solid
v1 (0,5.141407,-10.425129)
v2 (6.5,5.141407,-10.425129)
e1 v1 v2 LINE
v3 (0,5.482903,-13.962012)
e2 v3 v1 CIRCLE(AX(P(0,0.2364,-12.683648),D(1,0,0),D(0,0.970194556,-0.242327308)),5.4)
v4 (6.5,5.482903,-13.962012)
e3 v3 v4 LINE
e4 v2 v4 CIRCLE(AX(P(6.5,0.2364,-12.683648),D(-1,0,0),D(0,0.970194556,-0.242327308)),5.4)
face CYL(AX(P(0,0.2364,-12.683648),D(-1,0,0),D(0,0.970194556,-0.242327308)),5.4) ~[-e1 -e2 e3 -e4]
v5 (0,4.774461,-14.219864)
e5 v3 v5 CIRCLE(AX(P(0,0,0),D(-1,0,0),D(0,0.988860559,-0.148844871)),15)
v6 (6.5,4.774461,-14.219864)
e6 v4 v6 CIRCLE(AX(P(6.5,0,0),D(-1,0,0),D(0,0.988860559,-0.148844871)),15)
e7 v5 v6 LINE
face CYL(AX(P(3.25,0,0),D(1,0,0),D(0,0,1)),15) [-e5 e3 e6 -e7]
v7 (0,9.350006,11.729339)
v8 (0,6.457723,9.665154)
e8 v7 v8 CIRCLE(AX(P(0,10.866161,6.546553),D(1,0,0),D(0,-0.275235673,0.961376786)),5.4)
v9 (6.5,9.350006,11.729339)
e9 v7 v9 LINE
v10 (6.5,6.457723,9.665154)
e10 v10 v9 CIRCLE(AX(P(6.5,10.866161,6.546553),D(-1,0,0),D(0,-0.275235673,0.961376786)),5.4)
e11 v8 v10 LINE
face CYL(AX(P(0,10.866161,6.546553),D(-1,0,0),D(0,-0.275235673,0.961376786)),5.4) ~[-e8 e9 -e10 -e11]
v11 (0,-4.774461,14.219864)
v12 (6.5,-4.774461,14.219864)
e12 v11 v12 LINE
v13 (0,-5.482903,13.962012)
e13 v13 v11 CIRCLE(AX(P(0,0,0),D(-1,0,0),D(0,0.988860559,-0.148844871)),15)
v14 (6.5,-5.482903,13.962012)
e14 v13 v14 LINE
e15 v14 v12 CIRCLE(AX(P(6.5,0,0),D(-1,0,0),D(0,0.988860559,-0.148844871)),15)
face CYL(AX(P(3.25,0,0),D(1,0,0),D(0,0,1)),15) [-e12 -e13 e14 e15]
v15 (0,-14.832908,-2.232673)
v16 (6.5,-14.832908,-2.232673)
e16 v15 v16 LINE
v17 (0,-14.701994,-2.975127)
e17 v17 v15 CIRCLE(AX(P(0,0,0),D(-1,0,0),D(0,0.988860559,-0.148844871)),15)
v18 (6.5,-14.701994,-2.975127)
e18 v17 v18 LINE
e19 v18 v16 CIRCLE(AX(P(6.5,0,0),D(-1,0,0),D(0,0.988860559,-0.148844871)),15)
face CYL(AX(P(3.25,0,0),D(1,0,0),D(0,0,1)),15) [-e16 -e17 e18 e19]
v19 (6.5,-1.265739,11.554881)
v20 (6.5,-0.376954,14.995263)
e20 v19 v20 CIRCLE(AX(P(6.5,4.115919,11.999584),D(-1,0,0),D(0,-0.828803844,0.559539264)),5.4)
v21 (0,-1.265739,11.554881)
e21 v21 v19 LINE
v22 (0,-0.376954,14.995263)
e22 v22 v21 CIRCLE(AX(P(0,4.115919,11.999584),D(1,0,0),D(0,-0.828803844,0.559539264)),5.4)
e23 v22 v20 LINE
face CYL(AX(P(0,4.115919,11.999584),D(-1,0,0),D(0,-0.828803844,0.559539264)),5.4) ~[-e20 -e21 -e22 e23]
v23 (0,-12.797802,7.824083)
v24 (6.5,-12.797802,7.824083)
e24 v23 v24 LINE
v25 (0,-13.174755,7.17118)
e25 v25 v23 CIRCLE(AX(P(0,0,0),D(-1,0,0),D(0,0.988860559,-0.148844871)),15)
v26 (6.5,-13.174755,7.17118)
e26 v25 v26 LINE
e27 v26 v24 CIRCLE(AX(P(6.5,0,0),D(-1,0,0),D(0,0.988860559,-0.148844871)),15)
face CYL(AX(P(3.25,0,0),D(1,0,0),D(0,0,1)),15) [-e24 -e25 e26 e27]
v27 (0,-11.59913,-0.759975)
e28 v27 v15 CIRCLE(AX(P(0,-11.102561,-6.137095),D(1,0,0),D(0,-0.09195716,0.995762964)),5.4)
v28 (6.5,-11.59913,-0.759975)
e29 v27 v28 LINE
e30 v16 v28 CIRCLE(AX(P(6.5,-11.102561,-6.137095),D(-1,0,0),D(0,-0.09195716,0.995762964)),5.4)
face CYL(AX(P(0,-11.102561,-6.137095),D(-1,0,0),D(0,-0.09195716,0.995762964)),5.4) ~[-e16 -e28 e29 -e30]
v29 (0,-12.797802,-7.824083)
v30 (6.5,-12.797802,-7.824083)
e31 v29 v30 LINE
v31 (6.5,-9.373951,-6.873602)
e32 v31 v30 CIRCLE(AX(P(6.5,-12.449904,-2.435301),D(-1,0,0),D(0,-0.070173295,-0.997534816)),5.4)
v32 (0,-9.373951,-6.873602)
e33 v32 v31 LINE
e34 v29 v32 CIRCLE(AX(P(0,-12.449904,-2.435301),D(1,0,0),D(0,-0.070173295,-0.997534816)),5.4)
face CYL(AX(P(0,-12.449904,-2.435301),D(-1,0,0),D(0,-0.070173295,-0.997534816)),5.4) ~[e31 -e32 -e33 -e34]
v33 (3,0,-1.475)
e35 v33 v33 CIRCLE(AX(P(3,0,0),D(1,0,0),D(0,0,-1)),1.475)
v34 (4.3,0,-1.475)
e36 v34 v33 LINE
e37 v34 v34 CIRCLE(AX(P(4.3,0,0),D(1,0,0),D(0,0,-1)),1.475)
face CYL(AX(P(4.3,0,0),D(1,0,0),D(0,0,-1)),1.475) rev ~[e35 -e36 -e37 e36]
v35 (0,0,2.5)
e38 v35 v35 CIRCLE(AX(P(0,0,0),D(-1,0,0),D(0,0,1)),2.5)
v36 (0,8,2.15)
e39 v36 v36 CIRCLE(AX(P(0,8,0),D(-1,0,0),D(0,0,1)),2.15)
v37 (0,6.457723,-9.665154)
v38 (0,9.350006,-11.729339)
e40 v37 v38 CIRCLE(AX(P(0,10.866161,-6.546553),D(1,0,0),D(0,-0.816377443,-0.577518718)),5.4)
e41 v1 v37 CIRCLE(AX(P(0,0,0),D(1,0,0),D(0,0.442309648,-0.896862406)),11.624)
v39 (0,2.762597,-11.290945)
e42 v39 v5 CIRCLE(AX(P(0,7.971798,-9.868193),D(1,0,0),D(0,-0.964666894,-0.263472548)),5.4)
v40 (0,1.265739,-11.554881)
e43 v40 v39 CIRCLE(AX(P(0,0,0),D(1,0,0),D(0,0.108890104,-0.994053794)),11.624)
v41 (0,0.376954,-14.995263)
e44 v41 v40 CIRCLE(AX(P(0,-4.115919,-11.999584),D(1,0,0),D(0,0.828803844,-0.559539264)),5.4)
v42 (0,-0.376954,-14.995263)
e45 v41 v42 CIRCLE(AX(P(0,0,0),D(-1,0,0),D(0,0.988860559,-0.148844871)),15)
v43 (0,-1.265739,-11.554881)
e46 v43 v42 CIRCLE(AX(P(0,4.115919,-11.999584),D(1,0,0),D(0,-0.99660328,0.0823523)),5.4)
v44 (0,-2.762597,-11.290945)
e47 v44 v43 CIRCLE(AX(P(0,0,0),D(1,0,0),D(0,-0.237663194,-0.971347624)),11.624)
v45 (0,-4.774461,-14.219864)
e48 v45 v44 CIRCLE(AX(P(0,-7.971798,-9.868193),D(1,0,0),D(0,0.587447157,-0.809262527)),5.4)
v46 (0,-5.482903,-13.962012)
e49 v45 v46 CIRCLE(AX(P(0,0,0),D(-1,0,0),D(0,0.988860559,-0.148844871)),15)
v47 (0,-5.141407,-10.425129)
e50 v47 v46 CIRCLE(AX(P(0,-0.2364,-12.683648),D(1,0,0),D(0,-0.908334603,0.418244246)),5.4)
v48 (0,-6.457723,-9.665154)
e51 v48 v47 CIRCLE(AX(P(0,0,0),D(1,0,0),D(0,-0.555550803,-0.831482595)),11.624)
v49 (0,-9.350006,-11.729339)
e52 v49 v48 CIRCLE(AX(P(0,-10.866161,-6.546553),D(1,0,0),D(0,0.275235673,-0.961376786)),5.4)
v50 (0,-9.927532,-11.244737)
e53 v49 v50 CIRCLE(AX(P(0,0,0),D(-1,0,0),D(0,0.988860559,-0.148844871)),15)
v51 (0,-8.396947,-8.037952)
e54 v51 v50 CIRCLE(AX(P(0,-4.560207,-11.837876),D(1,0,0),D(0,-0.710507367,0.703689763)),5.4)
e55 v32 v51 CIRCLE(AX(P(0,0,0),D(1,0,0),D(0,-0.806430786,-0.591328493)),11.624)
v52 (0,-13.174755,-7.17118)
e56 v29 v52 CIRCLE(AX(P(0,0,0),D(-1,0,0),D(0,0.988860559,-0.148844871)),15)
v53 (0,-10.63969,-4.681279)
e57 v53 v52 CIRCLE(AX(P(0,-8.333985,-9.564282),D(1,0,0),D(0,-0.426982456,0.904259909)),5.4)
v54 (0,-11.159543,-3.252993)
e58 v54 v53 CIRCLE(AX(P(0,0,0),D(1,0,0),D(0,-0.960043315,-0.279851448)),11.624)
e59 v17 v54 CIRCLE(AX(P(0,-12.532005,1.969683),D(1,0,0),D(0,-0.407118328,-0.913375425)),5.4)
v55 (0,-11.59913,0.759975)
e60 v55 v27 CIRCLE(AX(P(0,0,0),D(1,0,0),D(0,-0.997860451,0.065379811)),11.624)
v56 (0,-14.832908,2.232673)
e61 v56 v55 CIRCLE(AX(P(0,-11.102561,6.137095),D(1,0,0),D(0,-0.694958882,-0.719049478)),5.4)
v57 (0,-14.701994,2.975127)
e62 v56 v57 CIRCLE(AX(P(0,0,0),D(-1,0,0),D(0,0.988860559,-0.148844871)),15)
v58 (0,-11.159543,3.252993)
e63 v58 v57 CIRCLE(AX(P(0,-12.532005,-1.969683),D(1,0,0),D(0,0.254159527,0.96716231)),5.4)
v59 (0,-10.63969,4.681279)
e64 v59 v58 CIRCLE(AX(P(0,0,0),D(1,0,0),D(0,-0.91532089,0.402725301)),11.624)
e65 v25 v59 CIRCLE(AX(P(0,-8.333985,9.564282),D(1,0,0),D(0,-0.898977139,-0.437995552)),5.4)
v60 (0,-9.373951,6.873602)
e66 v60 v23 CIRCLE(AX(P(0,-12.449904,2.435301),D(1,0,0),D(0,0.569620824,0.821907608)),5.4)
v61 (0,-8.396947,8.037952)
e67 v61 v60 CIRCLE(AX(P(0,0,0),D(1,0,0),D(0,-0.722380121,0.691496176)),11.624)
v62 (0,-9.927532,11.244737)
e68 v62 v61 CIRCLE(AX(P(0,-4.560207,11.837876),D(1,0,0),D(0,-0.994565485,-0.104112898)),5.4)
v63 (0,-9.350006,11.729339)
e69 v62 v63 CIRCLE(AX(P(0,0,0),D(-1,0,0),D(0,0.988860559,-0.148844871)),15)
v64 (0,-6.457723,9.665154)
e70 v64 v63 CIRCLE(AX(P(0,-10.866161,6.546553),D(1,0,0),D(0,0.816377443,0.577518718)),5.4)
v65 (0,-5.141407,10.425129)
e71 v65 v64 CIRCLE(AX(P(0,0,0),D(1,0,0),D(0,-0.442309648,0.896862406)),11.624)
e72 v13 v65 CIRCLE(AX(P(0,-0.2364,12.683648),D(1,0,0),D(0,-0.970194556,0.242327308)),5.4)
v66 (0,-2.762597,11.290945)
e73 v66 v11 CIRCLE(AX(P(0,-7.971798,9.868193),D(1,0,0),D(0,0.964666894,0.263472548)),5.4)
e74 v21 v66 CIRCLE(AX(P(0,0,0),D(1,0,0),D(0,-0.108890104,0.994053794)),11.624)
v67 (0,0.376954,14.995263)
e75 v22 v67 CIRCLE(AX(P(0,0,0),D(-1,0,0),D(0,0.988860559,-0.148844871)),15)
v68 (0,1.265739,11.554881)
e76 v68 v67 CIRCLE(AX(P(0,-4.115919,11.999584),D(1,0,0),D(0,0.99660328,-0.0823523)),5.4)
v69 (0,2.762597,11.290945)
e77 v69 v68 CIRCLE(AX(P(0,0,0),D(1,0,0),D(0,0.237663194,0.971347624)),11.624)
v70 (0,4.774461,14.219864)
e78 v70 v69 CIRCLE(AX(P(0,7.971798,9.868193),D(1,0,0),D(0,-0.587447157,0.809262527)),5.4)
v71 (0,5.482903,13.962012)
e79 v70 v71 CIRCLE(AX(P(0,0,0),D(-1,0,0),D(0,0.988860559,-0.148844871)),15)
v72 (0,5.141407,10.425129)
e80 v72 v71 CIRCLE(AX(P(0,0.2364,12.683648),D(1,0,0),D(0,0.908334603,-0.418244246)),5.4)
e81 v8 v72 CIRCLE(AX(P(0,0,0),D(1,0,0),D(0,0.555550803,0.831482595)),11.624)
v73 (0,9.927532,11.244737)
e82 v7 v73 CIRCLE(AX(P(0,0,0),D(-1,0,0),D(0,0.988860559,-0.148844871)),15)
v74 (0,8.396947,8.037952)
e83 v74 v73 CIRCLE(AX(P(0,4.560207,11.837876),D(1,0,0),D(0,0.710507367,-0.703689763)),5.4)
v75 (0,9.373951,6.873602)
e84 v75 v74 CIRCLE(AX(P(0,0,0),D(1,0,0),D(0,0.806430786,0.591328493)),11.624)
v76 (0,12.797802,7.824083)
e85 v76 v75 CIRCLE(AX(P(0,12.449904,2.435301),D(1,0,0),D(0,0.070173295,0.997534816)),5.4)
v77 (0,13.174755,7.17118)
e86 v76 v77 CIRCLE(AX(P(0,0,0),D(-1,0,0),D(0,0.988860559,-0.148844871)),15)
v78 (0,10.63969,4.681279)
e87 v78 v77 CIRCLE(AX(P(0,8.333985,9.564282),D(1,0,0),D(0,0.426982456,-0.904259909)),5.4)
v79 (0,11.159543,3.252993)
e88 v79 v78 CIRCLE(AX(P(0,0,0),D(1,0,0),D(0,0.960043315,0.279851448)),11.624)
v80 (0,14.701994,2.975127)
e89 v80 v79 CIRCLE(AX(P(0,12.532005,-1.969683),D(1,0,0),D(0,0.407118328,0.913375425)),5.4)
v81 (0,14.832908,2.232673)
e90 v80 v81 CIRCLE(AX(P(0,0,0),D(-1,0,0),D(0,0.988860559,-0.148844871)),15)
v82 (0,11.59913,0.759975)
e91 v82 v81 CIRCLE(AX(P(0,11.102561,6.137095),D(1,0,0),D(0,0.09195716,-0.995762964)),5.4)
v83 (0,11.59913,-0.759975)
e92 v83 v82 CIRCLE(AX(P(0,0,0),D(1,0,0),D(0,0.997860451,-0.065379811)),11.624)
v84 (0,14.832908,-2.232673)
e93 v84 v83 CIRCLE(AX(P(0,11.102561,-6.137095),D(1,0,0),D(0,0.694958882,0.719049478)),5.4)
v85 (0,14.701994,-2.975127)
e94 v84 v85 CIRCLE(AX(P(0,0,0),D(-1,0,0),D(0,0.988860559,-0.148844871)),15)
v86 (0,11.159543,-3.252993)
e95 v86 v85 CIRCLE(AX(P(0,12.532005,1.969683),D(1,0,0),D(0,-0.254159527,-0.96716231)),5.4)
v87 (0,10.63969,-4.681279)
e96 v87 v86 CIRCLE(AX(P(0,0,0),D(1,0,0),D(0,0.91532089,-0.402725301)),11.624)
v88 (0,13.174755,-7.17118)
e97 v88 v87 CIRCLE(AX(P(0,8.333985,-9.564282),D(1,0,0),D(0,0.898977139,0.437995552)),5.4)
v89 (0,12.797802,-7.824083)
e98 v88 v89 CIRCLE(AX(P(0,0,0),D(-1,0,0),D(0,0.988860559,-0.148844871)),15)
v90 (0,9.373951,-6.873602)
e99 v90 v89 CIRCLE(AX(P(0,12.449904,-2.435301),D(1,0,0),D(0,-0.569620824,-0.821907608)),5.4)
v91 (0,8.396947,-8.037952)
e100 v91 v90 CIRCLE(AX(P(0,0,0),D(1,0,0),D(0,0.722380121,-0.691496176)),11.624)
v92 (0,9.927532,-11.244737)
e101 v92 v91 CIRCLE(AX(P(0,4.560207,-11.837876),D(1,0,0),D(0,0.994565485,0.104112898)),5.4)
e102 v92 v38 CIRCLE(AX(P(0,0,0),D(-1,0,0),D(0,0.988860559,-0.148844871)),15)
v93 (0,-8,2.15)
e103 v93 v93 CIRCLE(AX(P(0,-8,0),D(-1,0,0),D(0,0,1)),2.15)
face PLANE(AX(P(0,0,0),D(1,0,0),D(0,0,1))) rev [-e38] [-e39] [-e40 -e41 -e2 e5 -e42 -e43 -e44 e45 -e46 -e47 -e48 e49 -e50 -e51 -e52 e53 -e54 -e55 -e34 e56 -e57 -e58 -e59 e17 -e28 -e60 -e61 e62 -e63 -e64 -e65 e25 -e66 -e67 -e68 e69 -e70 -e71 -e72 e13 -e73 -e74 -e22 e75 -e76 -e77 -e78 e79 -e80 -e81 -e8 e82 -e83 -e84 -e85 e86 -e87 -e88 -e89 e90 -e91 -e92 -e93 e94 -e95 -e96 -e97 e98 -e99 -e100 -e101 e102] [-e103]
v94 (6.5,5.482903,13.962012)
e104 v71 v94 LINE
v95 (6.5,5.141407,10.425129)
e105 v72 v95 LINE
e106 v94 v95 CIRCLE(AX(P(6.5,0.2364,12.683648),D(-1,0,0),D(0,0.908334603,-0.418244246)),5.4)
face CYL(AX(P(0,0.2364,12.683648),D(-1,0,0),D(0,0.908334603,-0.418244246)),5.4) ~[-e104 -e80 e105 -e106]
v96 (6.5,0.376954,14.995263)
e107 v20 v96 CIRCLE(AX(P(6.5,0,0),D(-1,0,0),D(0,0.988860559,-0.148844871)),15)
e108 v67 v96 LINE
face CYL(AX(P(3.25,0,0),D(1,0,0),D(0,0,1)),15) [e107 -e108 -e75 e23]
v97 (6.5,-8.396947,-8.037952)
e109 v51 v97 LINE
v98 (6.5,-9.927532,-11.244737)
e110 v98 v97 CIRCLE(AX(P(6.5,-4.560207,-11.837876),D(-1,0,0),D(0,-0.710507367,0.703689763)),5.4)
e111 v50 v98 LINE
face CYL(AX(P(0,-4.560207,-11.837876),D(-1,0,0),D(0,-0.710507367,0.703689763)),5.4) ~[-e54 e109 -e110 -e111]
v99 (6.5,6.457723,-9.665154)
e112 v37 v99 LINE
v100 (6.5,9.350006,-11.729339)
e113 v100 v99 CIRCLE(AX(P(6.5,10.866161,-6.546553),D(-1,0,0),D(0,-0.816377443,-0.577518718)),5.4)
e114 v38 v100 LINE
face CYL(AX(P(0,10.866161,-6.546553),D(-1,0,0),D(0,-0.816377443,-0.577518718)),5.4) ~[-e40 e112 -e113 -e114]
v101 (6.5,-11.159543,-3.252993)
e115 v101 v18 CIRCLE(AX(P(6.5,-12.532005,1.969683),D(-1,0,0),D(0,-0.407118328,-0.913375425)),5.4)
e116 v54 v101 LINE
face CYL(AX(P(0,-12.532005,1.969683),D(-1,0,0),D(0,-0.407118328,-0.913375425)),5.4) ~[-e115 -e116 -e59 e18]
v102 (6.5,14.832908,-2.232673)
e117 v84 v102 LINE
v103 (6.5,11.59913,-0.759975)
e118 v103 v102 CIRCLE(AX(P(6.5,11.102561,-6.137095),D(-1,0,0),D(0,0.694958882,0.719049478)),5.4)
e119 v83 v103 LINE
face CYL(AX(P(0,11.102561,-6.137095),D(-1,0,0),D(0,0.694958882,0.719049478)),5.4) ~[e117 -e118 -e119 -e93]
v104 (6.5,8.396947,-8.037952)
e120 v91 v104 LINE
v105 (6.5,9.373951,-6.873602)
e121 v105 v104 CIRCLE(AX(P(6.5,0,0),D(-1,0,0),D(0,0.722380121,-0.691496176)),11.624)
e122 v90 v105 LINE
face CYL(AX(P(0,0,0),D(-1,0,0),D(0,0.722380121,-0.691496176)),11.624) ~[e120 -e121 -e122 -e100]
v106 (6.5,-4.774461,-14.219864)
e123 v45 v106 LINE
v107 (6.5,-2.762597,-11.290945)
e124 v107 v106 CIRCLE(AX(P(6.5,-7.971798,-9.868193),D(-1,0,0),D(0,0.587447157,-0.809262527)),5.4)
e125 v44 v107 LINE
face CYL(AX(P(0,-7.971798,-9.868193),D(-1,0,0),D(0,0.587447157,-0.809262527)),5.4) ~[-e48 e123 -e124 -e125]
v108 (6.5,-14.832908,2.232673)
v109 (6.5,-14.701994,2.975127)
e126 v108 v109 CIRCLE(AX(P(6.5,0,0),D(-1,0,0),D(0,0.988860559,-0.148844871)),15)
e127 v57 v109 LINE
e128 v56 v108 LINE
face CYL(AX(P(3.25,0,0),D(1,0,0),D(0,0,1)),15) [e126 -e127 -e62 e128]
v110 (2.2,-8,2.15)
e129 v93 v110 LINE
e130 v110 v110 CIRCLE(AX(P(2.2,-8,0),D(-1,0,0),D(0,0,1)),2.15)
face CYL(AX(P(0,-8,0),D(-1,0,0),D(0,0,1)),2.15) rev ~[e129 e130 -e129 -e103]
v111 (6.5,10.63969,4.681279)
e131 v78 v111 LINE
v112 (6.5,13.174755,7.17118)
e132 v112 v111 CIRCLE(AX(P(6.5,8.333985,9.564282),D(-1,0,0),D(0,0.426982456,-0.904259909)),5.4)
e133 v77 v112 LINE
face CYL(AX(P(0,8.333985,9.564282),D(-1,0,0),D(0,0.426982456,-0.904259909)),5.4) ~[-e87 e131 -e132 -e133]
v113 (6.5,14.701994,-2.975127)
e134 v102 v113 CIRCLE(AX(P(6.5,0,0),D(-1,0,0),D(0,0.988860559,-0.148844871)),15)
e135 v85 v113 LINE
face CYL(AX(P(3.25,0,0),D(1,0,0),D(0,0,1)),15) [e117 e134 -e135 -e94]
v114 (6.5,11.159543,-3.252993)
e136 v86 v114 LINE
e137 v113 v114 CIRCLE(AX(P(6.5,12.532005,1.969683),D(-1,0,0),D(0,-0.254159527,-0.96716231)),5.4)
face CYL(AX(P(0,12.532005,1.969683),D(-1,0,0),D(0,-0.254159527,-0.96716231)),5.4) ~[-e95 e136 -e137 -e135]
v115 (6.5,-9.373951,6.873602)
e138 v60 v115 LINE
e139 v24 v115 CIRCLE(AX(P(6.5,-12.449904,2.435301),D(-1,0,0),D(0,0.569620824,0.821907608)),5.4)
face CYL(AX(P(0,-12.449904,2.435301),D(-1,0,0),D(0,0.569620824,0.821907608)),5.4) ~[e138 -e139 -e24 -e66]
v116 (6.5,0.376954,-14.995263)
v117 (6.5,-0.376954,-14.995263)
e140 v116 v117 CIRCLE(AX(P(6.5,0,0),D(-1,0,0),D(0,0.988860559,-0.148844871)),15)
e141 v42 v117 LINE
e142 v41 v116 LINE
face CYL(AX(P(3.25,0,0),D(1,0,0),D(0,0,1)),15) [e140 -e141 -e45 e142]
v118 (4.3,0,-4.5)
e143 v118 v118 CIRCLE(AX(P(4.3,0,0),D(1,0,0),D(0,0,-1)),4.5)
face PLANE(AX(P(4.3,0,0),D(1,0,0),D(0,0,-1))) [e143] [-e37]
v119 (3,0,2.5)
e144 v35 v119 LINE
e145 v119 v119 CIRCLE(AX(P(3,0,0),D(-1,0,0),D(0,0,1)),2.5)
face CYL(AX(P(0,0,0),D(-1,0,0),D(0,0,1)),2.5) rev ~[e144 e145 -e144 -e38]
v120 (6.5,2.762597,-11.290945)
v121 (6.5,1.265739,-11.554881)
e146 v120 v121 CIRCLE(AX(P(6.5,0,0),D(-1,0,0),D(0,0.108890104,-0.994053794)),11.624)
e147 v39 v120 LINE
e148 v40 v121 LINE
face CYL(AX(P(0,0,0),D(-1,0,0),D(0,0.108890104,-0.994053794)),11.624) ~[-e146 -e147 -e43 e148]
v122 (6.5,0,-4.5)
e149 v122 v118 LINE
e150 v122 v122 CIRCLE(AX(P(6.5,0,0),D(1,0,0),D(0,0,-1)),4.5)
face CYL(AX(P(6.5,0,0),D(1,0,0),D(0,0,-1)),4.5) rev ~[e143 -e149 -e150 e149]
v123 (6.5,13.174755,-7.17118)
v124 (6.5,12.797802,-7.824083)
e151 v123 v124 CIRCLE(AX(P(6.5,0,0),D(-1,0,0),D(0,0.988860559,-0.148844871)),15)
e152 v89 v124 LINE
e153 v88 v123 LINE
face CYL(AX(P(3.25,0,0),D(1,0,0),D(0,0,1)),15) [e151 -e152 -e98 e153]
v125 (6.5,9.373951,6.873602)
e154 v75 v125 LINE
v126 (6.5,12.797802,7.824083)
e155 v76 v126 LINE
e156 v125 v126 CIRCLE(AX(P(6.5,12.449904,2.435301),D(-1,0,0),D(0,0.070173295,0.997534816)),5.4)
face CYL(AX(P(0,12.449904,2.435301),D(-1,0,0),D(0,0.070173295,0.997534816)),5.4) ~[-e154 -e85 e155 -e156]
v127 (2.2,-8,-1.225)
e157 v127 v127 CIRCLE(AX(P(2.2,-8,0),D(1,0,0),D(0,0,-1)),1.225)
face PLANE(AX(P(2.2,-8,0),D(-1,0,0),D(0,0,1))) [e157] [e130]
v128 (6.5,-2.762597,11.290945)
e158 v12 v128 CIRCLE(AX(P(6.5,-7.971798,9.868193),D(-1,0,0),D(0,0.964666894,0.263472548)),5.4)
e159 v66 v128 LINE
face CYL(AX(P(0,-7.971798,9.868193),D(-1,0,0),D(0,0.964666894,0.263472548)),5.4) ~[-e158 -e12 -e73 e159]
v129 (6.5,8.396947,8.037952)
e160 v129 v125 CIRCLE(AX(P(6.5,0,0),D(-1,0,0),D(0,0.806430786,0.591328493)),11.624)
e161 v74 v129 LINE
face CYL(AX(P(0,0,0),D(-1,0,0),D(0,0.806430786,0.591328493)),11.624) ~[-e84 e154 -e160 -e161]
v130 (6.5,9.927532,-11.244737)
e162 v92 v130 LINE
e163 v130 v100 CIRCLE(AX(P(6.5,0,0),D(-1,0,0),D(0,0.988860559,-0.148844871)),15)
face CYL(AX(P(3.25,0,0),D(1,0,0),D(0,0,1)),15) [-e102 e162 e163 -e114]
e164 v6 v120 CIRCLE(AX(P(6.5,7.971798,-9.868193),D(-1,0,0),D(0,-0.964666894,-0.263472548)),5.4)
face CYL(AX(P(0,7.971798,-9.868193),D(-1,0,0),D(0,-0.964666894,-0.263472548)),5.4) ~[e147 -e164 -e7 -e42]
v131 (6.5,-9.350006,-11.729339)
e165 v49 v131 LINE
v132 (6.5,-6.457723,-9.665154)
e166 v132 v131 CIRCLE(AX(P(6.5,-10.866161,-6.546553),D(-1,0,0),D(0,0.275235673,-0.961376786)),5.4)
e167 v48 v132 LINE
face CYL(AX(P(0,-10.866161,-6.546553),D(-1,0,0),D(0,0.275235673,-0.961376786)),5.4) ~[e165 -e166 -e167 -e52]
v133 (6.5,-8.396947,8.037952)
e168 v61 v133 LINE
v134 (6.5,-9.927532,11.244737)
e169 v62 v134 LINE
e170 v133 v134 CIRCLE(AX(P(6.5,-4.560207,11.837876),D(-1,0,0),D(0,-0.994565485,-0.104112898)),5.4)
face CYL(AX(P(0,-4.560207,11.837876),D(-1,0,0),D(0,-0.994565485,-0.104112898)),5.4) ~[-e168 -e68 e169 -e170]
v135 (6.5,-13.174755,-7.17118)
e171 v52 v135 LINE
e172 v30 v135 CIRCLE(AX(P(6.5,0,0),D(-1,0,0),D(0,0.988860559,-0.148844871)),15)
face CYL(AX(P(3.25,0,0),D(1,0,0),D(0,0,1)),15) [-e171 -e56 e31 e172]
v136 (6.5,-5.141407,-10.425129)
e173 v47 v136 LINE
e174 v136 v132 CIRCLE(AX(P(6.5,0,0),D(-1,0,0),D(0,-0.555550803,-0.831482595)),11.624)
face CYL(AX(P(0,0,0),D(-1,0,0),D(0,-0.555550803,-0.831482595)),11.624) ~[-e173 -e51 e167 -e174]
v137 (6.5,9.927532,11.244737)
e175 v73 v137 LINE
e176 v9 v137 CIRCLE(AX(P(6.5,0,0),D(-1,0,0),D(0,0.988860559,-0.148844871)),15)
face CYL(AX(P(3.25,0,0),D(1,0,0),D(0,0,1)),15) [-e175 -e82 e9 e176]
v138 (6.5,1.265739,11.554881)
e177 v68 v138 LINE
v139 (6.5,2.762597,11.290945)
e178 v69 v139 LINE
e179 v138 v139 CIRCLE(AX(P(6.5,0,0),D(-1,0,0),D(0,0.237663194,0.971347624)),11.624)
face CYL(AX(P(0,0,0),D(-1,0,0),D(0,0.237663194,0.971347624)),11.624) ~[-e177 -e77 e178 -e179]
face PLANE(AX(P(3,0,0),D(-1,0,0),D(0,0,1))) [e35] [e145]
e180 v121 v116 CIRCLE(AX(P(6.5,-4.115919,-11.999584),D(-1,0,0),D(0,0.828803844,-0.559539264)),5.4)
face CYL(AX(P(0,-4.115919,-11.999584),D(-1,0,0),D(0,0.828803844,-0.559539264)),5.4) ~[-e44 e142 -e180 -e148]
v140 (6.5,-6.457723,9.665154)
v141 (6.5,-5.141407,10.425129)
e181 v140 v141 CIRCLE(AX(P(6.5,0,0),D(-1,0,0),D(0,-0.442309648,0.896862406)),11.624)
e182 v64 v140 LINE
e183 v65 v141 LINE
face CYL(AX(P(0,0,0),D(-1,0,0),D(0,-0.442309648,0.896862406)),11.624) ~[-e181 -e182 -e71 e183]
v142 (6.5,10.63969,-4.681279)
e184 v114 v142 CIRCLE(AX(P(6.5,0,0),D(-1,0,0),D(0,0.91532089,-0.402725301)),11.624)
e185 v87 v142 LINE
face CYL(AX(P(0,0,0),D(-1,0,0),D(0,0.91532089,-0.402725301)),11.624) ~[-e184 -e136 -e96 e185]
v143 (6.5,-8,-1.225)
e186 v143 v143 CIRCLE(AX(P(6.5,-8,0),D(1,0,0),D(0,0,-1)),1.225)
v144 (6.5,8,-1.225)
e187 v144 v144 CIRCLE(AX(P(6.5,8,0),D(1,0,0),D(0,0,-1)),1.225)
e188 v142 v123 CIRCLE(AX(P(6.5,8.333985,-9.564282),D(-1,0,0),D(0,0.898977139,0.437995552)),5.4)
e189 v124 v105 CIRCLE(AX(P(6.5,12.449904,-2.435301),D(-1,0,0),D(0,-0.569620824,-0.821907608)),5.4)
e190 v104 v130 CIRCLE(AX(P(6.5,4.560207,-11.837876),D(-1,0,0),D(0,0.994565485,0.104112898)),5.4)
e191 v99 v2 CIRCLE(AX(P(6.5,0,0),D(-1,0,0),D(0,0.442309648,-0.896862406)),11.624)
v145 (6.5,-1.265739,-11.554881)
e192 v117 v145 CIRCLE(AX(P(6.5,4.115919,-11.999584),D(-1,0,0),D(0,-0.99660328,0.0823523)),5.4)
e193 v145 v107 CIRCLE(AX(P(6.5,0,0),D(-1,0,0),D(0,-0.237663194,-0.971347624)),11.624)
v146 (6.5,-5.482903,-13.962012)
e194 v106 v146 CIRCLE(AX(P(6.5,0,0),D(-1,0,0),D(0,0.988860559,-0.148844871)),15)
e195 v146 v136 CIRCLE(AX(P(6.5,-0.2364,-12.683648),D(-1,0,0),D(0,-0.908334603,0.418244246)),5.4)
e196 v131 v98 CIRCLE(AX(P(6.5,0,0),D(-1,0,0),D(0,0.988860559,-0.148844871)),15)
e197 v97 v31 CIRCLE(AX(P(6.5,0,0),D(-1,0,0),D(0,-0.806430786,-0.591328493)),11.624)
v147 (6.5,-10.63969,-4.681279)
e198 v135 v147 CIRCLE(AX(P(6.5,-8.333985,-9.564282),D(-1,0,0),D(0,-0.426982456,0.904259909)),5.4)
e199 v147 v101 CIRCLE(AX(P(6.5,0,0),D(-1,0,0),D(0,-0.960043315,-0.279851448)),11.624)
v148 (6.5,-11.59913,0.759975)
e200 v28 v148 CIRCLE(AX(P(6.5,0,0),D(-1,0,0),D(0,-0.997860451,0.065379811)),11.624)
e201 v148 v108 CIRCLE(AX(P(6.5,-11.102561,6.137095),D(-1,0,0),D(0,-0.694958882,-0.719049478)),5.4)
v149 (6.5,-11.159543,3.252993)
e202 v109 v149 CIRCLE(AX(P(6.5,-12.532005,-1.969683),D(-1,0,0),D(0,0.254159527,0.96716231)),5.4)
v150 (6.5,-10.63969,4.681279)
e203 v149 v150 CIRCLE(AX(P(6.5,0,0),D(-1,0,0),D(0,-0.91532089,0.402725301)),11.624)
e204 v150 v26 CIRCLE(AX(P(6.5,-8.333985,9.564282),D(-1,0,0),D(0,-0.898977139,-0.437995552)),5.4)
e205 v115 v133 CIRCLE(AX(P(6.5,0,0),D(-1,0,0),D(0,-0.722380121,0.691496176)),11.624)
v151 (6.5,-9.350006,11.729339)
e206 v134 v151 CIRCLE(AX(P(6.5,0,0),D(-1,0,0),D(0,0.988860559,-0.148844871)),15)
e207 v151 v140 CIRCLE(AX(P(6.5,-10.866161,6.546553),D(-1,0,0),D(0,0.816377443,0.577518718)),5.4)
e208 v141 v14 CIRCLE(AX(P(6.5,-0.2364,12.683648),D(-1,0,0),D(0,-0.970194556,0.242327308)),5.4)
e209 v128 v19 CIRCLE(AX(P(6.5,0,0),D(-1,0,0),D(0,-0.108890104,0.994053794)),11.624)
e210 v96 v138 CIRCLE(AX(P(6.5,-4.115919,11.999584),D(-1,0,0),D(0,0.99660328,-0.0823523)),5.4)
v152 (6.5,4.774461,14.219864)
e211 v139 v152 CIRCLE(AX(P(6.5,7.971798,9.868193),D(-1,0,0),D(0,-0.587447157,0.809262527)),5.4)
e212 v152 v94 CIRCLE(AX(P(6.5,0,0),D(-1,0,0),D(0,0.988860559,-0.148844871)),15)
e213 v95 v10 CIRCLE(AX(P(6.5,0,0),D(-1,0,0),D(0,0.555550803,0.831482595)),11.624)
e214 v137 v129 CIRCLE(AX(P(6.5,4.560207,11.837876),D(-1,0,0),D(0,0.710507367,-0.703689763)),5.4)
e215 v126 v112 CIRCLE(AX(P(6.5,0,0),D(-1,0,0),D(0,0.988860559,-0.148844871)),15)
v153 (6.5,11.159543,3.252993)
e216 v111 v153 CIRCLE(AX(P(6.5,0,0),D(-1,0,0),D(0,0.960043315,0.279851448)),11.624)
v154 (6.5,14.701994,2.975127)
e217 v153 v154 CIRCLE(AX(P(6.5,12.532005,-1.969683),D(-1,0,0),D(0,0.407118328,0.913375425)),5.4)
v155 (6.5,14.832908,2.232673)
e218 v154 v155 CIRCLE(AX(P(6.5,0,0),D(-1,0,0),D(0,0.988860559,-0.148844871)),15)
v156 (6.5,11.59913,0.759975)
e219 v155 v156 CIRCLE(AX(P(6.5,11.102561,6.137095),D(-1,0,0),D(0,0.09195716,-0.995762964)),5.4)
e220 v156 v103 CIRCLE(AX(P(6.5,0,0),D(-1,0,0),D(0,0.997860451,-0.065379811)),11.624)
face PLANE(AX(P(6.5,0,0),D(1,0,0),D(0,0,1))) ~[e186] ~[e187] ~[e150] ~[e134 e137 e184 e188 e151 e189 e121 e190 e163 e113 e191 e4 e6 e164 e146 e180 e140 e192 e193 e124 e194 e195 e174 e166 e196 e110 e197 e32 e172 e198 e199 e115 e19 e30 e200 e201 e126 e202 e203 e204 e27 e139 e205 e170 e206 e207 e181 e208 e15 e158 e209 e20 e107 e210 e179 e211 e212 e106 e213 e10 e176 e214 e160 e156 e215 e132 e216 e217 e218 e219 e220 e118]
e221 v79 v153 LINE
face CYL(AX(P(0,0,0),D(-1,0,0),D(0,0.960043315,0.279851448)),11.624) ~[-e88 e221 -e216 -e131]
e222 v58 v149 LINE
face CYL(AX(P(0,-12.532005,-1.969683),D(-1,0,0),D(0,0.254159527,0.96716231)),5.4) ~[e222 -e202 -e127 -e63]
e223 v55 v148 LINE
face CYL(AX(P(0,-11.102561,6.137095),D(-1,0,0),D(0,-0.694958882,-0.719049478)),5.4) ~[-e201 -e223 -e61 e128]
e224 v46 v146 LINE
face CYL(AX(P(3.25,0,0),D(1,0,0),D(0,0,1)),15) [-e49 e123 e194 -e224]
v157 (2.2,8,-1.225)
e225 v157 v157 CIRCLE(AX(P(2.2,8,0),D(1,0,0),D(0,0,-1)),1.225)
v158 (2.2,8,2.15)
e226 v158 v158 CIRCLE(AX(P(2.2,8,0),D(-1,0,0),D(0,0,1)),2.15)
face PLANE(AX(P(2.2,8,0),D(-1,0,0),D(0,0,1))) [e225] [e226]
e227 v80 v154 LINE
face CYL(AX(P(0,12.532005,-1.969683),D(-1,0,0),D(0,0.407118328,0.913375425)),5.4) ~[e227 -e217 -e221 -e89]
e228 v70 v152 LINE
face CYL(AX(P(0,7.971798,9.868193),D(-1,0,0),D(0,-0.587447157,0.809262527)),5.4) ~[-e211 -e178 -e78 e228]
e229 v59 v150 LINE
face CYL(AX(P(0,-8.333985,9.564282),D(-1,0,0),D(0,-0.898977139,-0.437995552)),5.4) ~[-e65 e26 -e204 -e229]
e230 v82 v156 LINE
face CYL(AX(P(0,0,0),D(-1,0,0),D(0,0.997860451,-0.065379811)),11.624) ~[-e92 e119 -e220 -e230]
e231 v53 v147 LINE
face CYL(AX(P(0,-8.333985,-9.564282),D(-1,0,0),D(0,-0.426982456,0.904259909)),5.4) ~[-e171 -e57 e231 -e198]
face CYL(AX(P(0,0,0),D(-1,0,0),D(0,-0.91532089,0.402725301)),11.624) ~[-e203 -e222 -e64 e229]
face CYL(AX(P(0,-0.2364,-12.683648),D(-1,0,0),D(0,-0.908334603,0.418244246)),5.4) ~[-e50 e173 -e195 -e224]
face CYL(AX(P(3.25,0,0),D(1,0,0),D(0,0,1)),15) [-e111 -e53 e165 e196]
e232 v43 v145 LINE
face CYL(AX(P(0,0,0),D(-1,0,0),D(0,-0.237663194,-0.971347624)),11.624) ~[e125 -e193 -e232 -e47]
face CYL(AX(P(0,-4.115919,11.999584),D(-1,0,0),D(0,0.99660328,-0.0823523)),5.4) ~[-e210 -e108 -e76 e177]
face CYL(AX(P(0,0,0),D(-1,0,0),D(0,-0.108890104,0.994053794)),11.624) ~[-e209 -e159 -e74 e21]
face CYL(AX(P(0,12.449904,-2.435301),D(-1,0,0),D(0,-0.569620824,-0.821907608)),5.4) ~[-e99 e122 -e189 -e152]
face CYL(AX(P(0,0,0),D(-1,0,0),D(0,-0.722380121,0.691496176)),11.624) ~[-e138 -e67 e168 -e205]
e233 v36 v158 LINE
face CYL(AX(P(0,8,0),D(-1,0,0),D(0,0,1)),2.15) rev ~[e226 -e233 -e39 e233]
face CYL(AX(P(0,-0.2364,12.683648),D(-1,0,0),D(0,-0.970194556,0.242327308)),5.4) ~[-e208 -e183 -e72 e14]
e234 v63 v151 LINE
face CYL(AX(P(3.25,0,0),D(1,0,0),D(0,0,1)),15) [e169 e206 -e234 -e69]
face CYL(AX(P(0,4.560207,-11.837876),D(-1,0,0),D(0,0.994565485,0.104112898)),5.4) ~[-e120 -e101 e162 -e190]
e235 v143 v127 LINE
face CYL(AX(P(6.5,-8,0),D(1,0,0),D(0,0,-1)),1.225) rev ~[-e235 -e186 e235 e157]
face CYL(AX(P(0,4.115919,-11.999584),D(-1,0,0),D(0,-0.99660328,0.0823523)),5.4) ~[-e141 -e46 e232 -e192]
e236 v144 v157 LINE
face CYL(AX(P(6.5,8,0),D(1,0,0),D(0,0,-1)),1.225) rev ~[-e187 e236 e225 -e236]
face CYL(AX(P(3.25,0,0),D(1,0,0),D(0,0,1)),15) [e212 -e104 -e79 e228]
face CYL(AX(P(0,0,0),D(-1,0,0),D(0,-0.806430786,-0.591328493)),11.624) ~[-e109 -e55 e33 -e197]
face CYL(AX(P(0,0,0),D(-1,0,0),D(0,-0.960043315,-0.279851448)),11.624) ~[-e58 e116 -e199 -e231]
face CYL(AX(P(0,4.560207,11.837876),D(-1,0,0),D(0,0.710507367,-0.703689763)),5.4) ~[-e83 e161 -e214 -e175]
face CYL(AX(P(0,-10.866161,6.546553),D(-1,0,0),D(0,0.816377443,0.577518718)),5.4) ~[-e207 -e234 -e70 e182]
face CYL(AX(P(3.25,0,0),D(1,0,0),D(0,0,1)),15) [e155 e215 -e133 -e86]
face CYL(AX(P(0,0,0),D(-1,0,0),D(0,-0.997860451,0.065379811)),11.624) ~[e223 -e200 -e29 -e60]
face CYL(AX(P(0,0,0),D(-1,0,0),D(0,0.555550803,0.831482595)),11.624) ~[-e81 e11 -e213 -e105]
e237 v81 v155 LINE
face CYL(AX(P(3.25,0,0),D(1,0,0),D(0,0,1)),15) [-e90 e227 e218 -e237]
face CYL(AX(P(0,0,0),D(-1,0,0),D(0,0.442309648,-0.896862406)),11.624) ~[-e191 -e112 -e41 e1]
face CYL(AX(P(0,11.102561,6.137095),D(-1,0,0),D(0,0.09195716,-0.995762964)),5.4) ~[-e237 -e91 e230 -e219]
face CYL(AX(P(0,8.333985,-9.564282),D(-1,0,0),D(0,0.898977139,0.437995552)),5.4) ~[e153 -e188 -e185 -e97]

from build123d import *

# Parameters (mm, degrees)
BASPROSKE_W         = 6.5
BASPROSKE_H         = 15
TOOTHCUT_DEPTH      = 23.186707732
TEETHCUTS_COUNT     = 18
TEETHCUTS_ANGLE     = 340
BORSKE_R            = 0.4
BORE_DEPTH          = 50.0000508
SKETCH_1_R          = 4.5
CUT_EXTRUDE_1_DEPTH = 2.2
SKETCH_2_R          = 1.475
CUT_EXTRUDE_2_DEPTH = 22.529170235
SKETCH_3_R          = 1.225
CUT_EXTRUDE_3_DEPTH = 23.074083695
SKETCH_4_R          = 2.15
CUT_EXTRUDE_5_DEPTH = 2.2
SKETCH_5_R          = 2.5
CUT_EXTRUDE_6_DEPTH = 3


with BuildPart() as part:
    # BasProSke → Base-Revolve (revolve)
    with BuildSketch(Plane(origin=(0, 0, 0), x_dir=(1, 0, 0), z_dir=(0, 1, 0)), mode=Mode.PRIVATE) as base_revolve_sk:
        with Locations((3.25, 7.5)):
            Rectangle(BASPROSKE_W, BASPROSKE_H)
    revolve(base_revolve_sk.sketch.rotate(Axis((-10, 0, 0), (1, 0, 0)), 180), axis=Axis((-10, 0, 0), (1, 0, 0)))

    # TooCutSke → ToothCut (cut, through all)
    with BuildSketch(Plane(origin=(0, 0, 0), x_dir=(0, 0, -1), z_dir=(1, 0, 0))):
        with BuildLine():
            ThreePointArc((0.759974923, 11.599129886), (0, 11.624), (-0.759974923, 11.599129886))
            ThreePointArc((-0.759974923, 11.599129886), (-1.229186471, 13.354767823), (-2.254227748, 14.855339189))
            ThreePointArc((-2.254227748, 14.855339189), (0, 15.0254), (2.254227748, 14.855339189))
            ThreePointArc((2.254227748, 14.855339189), (1.229186471, 13.354767823), (0.759974923, 11.599129886))
        make_face()
    toothcut = extrude(amount=TOOTHCUT_DEPTH, mode=Mode.SUBTRACT)

    # TeethCuts: ToothCut ×18 about axis
    teethcuts_axis = Axis((-10, 0, 0), (1, 0, 0))
    for i in range(1, TEETHCUTS_COUNT):
        add(toothcut.rotate(teethcuts_axis, i * TEETHCUTS_ANGLE / (TEETHCUTS_COUNT - 1)), mode=Mode.SUBTRACT)

    # BorSke → Bore (cut, symmetric)
    with BuildSketch(Plane(origin=(0, 0, 0), x_dir=(0, 0, -1), z_dir=(1, 0, 0))):
        with Locations(Location((0, 0, 0), (0, 0, 180))):
            Circle(BORSKE_R)
    extrude(amount=BORE_DEPTH, both=True, mode=Mode.SUBTRACT)

    # 草图1 → 切除-拉伸1 (cut)
    with BuildSketch(Plane(origin=(6.5, 0, 0), x_dir=(0, 0, -1), z_dir=(1, 0, 0))):
        Circle(SKETCH_1_R)
    extrude(amount=-CUT_EXTRUDE_1_DEPTH, mode=Mode.SUBTRACT)

    # 草图2 → 切除-拉伸2 (cut, through all)
    with BuildSketch(Plane(origin=(4.3, 0, 0), x_dir=(0, 0, -1), z_dir=(1, 0, 0))):
        Circle(SKETCH_2_R)
    extrude(amount=-CUT_EXTRUDE_2_DEPTH, mode=Mode.SUBTRACT)

    # 草图3 → 切除-拉伸3 (cut, through all)
    with BuildSketch(Plane(origin=(6.5, 0, 0), x_dir=(0, 0, -1), z_dir=(1, 0, 0))):
        with Locations((0, -8)):
            Circle(SKETCH_3_R)
        with Locations((0, 8)):
            Circle(SKETCH_3_R)
    extrude(amount=-CUT_EXTRUDE_3_DEPTH, mode=Mode.SUBTRACT)

    # 草图4 → 切除-拉伸5 (cut)
    with BuildSketch(Plane.ZY):
        with Locations((0, -8)):
            Circle(SKETCH_4_R)
        with Locations((0, 8)):
            Circle(SKETCH_4_R)
    extrude(amount=-CUT_EXTRUDE_5_DEPTH, mode=Mode.SUBTRACT)

    # 草图5 → 切除-拉伸6 (cut)
    with BuildSketch(Plane.ZY):
        Circle(SKETCH_5_R)
    extrude(amount=-CUT_EXTRUDE_6_DEPTH, mode=Mode.SUBTRACT)


solid = part.part
